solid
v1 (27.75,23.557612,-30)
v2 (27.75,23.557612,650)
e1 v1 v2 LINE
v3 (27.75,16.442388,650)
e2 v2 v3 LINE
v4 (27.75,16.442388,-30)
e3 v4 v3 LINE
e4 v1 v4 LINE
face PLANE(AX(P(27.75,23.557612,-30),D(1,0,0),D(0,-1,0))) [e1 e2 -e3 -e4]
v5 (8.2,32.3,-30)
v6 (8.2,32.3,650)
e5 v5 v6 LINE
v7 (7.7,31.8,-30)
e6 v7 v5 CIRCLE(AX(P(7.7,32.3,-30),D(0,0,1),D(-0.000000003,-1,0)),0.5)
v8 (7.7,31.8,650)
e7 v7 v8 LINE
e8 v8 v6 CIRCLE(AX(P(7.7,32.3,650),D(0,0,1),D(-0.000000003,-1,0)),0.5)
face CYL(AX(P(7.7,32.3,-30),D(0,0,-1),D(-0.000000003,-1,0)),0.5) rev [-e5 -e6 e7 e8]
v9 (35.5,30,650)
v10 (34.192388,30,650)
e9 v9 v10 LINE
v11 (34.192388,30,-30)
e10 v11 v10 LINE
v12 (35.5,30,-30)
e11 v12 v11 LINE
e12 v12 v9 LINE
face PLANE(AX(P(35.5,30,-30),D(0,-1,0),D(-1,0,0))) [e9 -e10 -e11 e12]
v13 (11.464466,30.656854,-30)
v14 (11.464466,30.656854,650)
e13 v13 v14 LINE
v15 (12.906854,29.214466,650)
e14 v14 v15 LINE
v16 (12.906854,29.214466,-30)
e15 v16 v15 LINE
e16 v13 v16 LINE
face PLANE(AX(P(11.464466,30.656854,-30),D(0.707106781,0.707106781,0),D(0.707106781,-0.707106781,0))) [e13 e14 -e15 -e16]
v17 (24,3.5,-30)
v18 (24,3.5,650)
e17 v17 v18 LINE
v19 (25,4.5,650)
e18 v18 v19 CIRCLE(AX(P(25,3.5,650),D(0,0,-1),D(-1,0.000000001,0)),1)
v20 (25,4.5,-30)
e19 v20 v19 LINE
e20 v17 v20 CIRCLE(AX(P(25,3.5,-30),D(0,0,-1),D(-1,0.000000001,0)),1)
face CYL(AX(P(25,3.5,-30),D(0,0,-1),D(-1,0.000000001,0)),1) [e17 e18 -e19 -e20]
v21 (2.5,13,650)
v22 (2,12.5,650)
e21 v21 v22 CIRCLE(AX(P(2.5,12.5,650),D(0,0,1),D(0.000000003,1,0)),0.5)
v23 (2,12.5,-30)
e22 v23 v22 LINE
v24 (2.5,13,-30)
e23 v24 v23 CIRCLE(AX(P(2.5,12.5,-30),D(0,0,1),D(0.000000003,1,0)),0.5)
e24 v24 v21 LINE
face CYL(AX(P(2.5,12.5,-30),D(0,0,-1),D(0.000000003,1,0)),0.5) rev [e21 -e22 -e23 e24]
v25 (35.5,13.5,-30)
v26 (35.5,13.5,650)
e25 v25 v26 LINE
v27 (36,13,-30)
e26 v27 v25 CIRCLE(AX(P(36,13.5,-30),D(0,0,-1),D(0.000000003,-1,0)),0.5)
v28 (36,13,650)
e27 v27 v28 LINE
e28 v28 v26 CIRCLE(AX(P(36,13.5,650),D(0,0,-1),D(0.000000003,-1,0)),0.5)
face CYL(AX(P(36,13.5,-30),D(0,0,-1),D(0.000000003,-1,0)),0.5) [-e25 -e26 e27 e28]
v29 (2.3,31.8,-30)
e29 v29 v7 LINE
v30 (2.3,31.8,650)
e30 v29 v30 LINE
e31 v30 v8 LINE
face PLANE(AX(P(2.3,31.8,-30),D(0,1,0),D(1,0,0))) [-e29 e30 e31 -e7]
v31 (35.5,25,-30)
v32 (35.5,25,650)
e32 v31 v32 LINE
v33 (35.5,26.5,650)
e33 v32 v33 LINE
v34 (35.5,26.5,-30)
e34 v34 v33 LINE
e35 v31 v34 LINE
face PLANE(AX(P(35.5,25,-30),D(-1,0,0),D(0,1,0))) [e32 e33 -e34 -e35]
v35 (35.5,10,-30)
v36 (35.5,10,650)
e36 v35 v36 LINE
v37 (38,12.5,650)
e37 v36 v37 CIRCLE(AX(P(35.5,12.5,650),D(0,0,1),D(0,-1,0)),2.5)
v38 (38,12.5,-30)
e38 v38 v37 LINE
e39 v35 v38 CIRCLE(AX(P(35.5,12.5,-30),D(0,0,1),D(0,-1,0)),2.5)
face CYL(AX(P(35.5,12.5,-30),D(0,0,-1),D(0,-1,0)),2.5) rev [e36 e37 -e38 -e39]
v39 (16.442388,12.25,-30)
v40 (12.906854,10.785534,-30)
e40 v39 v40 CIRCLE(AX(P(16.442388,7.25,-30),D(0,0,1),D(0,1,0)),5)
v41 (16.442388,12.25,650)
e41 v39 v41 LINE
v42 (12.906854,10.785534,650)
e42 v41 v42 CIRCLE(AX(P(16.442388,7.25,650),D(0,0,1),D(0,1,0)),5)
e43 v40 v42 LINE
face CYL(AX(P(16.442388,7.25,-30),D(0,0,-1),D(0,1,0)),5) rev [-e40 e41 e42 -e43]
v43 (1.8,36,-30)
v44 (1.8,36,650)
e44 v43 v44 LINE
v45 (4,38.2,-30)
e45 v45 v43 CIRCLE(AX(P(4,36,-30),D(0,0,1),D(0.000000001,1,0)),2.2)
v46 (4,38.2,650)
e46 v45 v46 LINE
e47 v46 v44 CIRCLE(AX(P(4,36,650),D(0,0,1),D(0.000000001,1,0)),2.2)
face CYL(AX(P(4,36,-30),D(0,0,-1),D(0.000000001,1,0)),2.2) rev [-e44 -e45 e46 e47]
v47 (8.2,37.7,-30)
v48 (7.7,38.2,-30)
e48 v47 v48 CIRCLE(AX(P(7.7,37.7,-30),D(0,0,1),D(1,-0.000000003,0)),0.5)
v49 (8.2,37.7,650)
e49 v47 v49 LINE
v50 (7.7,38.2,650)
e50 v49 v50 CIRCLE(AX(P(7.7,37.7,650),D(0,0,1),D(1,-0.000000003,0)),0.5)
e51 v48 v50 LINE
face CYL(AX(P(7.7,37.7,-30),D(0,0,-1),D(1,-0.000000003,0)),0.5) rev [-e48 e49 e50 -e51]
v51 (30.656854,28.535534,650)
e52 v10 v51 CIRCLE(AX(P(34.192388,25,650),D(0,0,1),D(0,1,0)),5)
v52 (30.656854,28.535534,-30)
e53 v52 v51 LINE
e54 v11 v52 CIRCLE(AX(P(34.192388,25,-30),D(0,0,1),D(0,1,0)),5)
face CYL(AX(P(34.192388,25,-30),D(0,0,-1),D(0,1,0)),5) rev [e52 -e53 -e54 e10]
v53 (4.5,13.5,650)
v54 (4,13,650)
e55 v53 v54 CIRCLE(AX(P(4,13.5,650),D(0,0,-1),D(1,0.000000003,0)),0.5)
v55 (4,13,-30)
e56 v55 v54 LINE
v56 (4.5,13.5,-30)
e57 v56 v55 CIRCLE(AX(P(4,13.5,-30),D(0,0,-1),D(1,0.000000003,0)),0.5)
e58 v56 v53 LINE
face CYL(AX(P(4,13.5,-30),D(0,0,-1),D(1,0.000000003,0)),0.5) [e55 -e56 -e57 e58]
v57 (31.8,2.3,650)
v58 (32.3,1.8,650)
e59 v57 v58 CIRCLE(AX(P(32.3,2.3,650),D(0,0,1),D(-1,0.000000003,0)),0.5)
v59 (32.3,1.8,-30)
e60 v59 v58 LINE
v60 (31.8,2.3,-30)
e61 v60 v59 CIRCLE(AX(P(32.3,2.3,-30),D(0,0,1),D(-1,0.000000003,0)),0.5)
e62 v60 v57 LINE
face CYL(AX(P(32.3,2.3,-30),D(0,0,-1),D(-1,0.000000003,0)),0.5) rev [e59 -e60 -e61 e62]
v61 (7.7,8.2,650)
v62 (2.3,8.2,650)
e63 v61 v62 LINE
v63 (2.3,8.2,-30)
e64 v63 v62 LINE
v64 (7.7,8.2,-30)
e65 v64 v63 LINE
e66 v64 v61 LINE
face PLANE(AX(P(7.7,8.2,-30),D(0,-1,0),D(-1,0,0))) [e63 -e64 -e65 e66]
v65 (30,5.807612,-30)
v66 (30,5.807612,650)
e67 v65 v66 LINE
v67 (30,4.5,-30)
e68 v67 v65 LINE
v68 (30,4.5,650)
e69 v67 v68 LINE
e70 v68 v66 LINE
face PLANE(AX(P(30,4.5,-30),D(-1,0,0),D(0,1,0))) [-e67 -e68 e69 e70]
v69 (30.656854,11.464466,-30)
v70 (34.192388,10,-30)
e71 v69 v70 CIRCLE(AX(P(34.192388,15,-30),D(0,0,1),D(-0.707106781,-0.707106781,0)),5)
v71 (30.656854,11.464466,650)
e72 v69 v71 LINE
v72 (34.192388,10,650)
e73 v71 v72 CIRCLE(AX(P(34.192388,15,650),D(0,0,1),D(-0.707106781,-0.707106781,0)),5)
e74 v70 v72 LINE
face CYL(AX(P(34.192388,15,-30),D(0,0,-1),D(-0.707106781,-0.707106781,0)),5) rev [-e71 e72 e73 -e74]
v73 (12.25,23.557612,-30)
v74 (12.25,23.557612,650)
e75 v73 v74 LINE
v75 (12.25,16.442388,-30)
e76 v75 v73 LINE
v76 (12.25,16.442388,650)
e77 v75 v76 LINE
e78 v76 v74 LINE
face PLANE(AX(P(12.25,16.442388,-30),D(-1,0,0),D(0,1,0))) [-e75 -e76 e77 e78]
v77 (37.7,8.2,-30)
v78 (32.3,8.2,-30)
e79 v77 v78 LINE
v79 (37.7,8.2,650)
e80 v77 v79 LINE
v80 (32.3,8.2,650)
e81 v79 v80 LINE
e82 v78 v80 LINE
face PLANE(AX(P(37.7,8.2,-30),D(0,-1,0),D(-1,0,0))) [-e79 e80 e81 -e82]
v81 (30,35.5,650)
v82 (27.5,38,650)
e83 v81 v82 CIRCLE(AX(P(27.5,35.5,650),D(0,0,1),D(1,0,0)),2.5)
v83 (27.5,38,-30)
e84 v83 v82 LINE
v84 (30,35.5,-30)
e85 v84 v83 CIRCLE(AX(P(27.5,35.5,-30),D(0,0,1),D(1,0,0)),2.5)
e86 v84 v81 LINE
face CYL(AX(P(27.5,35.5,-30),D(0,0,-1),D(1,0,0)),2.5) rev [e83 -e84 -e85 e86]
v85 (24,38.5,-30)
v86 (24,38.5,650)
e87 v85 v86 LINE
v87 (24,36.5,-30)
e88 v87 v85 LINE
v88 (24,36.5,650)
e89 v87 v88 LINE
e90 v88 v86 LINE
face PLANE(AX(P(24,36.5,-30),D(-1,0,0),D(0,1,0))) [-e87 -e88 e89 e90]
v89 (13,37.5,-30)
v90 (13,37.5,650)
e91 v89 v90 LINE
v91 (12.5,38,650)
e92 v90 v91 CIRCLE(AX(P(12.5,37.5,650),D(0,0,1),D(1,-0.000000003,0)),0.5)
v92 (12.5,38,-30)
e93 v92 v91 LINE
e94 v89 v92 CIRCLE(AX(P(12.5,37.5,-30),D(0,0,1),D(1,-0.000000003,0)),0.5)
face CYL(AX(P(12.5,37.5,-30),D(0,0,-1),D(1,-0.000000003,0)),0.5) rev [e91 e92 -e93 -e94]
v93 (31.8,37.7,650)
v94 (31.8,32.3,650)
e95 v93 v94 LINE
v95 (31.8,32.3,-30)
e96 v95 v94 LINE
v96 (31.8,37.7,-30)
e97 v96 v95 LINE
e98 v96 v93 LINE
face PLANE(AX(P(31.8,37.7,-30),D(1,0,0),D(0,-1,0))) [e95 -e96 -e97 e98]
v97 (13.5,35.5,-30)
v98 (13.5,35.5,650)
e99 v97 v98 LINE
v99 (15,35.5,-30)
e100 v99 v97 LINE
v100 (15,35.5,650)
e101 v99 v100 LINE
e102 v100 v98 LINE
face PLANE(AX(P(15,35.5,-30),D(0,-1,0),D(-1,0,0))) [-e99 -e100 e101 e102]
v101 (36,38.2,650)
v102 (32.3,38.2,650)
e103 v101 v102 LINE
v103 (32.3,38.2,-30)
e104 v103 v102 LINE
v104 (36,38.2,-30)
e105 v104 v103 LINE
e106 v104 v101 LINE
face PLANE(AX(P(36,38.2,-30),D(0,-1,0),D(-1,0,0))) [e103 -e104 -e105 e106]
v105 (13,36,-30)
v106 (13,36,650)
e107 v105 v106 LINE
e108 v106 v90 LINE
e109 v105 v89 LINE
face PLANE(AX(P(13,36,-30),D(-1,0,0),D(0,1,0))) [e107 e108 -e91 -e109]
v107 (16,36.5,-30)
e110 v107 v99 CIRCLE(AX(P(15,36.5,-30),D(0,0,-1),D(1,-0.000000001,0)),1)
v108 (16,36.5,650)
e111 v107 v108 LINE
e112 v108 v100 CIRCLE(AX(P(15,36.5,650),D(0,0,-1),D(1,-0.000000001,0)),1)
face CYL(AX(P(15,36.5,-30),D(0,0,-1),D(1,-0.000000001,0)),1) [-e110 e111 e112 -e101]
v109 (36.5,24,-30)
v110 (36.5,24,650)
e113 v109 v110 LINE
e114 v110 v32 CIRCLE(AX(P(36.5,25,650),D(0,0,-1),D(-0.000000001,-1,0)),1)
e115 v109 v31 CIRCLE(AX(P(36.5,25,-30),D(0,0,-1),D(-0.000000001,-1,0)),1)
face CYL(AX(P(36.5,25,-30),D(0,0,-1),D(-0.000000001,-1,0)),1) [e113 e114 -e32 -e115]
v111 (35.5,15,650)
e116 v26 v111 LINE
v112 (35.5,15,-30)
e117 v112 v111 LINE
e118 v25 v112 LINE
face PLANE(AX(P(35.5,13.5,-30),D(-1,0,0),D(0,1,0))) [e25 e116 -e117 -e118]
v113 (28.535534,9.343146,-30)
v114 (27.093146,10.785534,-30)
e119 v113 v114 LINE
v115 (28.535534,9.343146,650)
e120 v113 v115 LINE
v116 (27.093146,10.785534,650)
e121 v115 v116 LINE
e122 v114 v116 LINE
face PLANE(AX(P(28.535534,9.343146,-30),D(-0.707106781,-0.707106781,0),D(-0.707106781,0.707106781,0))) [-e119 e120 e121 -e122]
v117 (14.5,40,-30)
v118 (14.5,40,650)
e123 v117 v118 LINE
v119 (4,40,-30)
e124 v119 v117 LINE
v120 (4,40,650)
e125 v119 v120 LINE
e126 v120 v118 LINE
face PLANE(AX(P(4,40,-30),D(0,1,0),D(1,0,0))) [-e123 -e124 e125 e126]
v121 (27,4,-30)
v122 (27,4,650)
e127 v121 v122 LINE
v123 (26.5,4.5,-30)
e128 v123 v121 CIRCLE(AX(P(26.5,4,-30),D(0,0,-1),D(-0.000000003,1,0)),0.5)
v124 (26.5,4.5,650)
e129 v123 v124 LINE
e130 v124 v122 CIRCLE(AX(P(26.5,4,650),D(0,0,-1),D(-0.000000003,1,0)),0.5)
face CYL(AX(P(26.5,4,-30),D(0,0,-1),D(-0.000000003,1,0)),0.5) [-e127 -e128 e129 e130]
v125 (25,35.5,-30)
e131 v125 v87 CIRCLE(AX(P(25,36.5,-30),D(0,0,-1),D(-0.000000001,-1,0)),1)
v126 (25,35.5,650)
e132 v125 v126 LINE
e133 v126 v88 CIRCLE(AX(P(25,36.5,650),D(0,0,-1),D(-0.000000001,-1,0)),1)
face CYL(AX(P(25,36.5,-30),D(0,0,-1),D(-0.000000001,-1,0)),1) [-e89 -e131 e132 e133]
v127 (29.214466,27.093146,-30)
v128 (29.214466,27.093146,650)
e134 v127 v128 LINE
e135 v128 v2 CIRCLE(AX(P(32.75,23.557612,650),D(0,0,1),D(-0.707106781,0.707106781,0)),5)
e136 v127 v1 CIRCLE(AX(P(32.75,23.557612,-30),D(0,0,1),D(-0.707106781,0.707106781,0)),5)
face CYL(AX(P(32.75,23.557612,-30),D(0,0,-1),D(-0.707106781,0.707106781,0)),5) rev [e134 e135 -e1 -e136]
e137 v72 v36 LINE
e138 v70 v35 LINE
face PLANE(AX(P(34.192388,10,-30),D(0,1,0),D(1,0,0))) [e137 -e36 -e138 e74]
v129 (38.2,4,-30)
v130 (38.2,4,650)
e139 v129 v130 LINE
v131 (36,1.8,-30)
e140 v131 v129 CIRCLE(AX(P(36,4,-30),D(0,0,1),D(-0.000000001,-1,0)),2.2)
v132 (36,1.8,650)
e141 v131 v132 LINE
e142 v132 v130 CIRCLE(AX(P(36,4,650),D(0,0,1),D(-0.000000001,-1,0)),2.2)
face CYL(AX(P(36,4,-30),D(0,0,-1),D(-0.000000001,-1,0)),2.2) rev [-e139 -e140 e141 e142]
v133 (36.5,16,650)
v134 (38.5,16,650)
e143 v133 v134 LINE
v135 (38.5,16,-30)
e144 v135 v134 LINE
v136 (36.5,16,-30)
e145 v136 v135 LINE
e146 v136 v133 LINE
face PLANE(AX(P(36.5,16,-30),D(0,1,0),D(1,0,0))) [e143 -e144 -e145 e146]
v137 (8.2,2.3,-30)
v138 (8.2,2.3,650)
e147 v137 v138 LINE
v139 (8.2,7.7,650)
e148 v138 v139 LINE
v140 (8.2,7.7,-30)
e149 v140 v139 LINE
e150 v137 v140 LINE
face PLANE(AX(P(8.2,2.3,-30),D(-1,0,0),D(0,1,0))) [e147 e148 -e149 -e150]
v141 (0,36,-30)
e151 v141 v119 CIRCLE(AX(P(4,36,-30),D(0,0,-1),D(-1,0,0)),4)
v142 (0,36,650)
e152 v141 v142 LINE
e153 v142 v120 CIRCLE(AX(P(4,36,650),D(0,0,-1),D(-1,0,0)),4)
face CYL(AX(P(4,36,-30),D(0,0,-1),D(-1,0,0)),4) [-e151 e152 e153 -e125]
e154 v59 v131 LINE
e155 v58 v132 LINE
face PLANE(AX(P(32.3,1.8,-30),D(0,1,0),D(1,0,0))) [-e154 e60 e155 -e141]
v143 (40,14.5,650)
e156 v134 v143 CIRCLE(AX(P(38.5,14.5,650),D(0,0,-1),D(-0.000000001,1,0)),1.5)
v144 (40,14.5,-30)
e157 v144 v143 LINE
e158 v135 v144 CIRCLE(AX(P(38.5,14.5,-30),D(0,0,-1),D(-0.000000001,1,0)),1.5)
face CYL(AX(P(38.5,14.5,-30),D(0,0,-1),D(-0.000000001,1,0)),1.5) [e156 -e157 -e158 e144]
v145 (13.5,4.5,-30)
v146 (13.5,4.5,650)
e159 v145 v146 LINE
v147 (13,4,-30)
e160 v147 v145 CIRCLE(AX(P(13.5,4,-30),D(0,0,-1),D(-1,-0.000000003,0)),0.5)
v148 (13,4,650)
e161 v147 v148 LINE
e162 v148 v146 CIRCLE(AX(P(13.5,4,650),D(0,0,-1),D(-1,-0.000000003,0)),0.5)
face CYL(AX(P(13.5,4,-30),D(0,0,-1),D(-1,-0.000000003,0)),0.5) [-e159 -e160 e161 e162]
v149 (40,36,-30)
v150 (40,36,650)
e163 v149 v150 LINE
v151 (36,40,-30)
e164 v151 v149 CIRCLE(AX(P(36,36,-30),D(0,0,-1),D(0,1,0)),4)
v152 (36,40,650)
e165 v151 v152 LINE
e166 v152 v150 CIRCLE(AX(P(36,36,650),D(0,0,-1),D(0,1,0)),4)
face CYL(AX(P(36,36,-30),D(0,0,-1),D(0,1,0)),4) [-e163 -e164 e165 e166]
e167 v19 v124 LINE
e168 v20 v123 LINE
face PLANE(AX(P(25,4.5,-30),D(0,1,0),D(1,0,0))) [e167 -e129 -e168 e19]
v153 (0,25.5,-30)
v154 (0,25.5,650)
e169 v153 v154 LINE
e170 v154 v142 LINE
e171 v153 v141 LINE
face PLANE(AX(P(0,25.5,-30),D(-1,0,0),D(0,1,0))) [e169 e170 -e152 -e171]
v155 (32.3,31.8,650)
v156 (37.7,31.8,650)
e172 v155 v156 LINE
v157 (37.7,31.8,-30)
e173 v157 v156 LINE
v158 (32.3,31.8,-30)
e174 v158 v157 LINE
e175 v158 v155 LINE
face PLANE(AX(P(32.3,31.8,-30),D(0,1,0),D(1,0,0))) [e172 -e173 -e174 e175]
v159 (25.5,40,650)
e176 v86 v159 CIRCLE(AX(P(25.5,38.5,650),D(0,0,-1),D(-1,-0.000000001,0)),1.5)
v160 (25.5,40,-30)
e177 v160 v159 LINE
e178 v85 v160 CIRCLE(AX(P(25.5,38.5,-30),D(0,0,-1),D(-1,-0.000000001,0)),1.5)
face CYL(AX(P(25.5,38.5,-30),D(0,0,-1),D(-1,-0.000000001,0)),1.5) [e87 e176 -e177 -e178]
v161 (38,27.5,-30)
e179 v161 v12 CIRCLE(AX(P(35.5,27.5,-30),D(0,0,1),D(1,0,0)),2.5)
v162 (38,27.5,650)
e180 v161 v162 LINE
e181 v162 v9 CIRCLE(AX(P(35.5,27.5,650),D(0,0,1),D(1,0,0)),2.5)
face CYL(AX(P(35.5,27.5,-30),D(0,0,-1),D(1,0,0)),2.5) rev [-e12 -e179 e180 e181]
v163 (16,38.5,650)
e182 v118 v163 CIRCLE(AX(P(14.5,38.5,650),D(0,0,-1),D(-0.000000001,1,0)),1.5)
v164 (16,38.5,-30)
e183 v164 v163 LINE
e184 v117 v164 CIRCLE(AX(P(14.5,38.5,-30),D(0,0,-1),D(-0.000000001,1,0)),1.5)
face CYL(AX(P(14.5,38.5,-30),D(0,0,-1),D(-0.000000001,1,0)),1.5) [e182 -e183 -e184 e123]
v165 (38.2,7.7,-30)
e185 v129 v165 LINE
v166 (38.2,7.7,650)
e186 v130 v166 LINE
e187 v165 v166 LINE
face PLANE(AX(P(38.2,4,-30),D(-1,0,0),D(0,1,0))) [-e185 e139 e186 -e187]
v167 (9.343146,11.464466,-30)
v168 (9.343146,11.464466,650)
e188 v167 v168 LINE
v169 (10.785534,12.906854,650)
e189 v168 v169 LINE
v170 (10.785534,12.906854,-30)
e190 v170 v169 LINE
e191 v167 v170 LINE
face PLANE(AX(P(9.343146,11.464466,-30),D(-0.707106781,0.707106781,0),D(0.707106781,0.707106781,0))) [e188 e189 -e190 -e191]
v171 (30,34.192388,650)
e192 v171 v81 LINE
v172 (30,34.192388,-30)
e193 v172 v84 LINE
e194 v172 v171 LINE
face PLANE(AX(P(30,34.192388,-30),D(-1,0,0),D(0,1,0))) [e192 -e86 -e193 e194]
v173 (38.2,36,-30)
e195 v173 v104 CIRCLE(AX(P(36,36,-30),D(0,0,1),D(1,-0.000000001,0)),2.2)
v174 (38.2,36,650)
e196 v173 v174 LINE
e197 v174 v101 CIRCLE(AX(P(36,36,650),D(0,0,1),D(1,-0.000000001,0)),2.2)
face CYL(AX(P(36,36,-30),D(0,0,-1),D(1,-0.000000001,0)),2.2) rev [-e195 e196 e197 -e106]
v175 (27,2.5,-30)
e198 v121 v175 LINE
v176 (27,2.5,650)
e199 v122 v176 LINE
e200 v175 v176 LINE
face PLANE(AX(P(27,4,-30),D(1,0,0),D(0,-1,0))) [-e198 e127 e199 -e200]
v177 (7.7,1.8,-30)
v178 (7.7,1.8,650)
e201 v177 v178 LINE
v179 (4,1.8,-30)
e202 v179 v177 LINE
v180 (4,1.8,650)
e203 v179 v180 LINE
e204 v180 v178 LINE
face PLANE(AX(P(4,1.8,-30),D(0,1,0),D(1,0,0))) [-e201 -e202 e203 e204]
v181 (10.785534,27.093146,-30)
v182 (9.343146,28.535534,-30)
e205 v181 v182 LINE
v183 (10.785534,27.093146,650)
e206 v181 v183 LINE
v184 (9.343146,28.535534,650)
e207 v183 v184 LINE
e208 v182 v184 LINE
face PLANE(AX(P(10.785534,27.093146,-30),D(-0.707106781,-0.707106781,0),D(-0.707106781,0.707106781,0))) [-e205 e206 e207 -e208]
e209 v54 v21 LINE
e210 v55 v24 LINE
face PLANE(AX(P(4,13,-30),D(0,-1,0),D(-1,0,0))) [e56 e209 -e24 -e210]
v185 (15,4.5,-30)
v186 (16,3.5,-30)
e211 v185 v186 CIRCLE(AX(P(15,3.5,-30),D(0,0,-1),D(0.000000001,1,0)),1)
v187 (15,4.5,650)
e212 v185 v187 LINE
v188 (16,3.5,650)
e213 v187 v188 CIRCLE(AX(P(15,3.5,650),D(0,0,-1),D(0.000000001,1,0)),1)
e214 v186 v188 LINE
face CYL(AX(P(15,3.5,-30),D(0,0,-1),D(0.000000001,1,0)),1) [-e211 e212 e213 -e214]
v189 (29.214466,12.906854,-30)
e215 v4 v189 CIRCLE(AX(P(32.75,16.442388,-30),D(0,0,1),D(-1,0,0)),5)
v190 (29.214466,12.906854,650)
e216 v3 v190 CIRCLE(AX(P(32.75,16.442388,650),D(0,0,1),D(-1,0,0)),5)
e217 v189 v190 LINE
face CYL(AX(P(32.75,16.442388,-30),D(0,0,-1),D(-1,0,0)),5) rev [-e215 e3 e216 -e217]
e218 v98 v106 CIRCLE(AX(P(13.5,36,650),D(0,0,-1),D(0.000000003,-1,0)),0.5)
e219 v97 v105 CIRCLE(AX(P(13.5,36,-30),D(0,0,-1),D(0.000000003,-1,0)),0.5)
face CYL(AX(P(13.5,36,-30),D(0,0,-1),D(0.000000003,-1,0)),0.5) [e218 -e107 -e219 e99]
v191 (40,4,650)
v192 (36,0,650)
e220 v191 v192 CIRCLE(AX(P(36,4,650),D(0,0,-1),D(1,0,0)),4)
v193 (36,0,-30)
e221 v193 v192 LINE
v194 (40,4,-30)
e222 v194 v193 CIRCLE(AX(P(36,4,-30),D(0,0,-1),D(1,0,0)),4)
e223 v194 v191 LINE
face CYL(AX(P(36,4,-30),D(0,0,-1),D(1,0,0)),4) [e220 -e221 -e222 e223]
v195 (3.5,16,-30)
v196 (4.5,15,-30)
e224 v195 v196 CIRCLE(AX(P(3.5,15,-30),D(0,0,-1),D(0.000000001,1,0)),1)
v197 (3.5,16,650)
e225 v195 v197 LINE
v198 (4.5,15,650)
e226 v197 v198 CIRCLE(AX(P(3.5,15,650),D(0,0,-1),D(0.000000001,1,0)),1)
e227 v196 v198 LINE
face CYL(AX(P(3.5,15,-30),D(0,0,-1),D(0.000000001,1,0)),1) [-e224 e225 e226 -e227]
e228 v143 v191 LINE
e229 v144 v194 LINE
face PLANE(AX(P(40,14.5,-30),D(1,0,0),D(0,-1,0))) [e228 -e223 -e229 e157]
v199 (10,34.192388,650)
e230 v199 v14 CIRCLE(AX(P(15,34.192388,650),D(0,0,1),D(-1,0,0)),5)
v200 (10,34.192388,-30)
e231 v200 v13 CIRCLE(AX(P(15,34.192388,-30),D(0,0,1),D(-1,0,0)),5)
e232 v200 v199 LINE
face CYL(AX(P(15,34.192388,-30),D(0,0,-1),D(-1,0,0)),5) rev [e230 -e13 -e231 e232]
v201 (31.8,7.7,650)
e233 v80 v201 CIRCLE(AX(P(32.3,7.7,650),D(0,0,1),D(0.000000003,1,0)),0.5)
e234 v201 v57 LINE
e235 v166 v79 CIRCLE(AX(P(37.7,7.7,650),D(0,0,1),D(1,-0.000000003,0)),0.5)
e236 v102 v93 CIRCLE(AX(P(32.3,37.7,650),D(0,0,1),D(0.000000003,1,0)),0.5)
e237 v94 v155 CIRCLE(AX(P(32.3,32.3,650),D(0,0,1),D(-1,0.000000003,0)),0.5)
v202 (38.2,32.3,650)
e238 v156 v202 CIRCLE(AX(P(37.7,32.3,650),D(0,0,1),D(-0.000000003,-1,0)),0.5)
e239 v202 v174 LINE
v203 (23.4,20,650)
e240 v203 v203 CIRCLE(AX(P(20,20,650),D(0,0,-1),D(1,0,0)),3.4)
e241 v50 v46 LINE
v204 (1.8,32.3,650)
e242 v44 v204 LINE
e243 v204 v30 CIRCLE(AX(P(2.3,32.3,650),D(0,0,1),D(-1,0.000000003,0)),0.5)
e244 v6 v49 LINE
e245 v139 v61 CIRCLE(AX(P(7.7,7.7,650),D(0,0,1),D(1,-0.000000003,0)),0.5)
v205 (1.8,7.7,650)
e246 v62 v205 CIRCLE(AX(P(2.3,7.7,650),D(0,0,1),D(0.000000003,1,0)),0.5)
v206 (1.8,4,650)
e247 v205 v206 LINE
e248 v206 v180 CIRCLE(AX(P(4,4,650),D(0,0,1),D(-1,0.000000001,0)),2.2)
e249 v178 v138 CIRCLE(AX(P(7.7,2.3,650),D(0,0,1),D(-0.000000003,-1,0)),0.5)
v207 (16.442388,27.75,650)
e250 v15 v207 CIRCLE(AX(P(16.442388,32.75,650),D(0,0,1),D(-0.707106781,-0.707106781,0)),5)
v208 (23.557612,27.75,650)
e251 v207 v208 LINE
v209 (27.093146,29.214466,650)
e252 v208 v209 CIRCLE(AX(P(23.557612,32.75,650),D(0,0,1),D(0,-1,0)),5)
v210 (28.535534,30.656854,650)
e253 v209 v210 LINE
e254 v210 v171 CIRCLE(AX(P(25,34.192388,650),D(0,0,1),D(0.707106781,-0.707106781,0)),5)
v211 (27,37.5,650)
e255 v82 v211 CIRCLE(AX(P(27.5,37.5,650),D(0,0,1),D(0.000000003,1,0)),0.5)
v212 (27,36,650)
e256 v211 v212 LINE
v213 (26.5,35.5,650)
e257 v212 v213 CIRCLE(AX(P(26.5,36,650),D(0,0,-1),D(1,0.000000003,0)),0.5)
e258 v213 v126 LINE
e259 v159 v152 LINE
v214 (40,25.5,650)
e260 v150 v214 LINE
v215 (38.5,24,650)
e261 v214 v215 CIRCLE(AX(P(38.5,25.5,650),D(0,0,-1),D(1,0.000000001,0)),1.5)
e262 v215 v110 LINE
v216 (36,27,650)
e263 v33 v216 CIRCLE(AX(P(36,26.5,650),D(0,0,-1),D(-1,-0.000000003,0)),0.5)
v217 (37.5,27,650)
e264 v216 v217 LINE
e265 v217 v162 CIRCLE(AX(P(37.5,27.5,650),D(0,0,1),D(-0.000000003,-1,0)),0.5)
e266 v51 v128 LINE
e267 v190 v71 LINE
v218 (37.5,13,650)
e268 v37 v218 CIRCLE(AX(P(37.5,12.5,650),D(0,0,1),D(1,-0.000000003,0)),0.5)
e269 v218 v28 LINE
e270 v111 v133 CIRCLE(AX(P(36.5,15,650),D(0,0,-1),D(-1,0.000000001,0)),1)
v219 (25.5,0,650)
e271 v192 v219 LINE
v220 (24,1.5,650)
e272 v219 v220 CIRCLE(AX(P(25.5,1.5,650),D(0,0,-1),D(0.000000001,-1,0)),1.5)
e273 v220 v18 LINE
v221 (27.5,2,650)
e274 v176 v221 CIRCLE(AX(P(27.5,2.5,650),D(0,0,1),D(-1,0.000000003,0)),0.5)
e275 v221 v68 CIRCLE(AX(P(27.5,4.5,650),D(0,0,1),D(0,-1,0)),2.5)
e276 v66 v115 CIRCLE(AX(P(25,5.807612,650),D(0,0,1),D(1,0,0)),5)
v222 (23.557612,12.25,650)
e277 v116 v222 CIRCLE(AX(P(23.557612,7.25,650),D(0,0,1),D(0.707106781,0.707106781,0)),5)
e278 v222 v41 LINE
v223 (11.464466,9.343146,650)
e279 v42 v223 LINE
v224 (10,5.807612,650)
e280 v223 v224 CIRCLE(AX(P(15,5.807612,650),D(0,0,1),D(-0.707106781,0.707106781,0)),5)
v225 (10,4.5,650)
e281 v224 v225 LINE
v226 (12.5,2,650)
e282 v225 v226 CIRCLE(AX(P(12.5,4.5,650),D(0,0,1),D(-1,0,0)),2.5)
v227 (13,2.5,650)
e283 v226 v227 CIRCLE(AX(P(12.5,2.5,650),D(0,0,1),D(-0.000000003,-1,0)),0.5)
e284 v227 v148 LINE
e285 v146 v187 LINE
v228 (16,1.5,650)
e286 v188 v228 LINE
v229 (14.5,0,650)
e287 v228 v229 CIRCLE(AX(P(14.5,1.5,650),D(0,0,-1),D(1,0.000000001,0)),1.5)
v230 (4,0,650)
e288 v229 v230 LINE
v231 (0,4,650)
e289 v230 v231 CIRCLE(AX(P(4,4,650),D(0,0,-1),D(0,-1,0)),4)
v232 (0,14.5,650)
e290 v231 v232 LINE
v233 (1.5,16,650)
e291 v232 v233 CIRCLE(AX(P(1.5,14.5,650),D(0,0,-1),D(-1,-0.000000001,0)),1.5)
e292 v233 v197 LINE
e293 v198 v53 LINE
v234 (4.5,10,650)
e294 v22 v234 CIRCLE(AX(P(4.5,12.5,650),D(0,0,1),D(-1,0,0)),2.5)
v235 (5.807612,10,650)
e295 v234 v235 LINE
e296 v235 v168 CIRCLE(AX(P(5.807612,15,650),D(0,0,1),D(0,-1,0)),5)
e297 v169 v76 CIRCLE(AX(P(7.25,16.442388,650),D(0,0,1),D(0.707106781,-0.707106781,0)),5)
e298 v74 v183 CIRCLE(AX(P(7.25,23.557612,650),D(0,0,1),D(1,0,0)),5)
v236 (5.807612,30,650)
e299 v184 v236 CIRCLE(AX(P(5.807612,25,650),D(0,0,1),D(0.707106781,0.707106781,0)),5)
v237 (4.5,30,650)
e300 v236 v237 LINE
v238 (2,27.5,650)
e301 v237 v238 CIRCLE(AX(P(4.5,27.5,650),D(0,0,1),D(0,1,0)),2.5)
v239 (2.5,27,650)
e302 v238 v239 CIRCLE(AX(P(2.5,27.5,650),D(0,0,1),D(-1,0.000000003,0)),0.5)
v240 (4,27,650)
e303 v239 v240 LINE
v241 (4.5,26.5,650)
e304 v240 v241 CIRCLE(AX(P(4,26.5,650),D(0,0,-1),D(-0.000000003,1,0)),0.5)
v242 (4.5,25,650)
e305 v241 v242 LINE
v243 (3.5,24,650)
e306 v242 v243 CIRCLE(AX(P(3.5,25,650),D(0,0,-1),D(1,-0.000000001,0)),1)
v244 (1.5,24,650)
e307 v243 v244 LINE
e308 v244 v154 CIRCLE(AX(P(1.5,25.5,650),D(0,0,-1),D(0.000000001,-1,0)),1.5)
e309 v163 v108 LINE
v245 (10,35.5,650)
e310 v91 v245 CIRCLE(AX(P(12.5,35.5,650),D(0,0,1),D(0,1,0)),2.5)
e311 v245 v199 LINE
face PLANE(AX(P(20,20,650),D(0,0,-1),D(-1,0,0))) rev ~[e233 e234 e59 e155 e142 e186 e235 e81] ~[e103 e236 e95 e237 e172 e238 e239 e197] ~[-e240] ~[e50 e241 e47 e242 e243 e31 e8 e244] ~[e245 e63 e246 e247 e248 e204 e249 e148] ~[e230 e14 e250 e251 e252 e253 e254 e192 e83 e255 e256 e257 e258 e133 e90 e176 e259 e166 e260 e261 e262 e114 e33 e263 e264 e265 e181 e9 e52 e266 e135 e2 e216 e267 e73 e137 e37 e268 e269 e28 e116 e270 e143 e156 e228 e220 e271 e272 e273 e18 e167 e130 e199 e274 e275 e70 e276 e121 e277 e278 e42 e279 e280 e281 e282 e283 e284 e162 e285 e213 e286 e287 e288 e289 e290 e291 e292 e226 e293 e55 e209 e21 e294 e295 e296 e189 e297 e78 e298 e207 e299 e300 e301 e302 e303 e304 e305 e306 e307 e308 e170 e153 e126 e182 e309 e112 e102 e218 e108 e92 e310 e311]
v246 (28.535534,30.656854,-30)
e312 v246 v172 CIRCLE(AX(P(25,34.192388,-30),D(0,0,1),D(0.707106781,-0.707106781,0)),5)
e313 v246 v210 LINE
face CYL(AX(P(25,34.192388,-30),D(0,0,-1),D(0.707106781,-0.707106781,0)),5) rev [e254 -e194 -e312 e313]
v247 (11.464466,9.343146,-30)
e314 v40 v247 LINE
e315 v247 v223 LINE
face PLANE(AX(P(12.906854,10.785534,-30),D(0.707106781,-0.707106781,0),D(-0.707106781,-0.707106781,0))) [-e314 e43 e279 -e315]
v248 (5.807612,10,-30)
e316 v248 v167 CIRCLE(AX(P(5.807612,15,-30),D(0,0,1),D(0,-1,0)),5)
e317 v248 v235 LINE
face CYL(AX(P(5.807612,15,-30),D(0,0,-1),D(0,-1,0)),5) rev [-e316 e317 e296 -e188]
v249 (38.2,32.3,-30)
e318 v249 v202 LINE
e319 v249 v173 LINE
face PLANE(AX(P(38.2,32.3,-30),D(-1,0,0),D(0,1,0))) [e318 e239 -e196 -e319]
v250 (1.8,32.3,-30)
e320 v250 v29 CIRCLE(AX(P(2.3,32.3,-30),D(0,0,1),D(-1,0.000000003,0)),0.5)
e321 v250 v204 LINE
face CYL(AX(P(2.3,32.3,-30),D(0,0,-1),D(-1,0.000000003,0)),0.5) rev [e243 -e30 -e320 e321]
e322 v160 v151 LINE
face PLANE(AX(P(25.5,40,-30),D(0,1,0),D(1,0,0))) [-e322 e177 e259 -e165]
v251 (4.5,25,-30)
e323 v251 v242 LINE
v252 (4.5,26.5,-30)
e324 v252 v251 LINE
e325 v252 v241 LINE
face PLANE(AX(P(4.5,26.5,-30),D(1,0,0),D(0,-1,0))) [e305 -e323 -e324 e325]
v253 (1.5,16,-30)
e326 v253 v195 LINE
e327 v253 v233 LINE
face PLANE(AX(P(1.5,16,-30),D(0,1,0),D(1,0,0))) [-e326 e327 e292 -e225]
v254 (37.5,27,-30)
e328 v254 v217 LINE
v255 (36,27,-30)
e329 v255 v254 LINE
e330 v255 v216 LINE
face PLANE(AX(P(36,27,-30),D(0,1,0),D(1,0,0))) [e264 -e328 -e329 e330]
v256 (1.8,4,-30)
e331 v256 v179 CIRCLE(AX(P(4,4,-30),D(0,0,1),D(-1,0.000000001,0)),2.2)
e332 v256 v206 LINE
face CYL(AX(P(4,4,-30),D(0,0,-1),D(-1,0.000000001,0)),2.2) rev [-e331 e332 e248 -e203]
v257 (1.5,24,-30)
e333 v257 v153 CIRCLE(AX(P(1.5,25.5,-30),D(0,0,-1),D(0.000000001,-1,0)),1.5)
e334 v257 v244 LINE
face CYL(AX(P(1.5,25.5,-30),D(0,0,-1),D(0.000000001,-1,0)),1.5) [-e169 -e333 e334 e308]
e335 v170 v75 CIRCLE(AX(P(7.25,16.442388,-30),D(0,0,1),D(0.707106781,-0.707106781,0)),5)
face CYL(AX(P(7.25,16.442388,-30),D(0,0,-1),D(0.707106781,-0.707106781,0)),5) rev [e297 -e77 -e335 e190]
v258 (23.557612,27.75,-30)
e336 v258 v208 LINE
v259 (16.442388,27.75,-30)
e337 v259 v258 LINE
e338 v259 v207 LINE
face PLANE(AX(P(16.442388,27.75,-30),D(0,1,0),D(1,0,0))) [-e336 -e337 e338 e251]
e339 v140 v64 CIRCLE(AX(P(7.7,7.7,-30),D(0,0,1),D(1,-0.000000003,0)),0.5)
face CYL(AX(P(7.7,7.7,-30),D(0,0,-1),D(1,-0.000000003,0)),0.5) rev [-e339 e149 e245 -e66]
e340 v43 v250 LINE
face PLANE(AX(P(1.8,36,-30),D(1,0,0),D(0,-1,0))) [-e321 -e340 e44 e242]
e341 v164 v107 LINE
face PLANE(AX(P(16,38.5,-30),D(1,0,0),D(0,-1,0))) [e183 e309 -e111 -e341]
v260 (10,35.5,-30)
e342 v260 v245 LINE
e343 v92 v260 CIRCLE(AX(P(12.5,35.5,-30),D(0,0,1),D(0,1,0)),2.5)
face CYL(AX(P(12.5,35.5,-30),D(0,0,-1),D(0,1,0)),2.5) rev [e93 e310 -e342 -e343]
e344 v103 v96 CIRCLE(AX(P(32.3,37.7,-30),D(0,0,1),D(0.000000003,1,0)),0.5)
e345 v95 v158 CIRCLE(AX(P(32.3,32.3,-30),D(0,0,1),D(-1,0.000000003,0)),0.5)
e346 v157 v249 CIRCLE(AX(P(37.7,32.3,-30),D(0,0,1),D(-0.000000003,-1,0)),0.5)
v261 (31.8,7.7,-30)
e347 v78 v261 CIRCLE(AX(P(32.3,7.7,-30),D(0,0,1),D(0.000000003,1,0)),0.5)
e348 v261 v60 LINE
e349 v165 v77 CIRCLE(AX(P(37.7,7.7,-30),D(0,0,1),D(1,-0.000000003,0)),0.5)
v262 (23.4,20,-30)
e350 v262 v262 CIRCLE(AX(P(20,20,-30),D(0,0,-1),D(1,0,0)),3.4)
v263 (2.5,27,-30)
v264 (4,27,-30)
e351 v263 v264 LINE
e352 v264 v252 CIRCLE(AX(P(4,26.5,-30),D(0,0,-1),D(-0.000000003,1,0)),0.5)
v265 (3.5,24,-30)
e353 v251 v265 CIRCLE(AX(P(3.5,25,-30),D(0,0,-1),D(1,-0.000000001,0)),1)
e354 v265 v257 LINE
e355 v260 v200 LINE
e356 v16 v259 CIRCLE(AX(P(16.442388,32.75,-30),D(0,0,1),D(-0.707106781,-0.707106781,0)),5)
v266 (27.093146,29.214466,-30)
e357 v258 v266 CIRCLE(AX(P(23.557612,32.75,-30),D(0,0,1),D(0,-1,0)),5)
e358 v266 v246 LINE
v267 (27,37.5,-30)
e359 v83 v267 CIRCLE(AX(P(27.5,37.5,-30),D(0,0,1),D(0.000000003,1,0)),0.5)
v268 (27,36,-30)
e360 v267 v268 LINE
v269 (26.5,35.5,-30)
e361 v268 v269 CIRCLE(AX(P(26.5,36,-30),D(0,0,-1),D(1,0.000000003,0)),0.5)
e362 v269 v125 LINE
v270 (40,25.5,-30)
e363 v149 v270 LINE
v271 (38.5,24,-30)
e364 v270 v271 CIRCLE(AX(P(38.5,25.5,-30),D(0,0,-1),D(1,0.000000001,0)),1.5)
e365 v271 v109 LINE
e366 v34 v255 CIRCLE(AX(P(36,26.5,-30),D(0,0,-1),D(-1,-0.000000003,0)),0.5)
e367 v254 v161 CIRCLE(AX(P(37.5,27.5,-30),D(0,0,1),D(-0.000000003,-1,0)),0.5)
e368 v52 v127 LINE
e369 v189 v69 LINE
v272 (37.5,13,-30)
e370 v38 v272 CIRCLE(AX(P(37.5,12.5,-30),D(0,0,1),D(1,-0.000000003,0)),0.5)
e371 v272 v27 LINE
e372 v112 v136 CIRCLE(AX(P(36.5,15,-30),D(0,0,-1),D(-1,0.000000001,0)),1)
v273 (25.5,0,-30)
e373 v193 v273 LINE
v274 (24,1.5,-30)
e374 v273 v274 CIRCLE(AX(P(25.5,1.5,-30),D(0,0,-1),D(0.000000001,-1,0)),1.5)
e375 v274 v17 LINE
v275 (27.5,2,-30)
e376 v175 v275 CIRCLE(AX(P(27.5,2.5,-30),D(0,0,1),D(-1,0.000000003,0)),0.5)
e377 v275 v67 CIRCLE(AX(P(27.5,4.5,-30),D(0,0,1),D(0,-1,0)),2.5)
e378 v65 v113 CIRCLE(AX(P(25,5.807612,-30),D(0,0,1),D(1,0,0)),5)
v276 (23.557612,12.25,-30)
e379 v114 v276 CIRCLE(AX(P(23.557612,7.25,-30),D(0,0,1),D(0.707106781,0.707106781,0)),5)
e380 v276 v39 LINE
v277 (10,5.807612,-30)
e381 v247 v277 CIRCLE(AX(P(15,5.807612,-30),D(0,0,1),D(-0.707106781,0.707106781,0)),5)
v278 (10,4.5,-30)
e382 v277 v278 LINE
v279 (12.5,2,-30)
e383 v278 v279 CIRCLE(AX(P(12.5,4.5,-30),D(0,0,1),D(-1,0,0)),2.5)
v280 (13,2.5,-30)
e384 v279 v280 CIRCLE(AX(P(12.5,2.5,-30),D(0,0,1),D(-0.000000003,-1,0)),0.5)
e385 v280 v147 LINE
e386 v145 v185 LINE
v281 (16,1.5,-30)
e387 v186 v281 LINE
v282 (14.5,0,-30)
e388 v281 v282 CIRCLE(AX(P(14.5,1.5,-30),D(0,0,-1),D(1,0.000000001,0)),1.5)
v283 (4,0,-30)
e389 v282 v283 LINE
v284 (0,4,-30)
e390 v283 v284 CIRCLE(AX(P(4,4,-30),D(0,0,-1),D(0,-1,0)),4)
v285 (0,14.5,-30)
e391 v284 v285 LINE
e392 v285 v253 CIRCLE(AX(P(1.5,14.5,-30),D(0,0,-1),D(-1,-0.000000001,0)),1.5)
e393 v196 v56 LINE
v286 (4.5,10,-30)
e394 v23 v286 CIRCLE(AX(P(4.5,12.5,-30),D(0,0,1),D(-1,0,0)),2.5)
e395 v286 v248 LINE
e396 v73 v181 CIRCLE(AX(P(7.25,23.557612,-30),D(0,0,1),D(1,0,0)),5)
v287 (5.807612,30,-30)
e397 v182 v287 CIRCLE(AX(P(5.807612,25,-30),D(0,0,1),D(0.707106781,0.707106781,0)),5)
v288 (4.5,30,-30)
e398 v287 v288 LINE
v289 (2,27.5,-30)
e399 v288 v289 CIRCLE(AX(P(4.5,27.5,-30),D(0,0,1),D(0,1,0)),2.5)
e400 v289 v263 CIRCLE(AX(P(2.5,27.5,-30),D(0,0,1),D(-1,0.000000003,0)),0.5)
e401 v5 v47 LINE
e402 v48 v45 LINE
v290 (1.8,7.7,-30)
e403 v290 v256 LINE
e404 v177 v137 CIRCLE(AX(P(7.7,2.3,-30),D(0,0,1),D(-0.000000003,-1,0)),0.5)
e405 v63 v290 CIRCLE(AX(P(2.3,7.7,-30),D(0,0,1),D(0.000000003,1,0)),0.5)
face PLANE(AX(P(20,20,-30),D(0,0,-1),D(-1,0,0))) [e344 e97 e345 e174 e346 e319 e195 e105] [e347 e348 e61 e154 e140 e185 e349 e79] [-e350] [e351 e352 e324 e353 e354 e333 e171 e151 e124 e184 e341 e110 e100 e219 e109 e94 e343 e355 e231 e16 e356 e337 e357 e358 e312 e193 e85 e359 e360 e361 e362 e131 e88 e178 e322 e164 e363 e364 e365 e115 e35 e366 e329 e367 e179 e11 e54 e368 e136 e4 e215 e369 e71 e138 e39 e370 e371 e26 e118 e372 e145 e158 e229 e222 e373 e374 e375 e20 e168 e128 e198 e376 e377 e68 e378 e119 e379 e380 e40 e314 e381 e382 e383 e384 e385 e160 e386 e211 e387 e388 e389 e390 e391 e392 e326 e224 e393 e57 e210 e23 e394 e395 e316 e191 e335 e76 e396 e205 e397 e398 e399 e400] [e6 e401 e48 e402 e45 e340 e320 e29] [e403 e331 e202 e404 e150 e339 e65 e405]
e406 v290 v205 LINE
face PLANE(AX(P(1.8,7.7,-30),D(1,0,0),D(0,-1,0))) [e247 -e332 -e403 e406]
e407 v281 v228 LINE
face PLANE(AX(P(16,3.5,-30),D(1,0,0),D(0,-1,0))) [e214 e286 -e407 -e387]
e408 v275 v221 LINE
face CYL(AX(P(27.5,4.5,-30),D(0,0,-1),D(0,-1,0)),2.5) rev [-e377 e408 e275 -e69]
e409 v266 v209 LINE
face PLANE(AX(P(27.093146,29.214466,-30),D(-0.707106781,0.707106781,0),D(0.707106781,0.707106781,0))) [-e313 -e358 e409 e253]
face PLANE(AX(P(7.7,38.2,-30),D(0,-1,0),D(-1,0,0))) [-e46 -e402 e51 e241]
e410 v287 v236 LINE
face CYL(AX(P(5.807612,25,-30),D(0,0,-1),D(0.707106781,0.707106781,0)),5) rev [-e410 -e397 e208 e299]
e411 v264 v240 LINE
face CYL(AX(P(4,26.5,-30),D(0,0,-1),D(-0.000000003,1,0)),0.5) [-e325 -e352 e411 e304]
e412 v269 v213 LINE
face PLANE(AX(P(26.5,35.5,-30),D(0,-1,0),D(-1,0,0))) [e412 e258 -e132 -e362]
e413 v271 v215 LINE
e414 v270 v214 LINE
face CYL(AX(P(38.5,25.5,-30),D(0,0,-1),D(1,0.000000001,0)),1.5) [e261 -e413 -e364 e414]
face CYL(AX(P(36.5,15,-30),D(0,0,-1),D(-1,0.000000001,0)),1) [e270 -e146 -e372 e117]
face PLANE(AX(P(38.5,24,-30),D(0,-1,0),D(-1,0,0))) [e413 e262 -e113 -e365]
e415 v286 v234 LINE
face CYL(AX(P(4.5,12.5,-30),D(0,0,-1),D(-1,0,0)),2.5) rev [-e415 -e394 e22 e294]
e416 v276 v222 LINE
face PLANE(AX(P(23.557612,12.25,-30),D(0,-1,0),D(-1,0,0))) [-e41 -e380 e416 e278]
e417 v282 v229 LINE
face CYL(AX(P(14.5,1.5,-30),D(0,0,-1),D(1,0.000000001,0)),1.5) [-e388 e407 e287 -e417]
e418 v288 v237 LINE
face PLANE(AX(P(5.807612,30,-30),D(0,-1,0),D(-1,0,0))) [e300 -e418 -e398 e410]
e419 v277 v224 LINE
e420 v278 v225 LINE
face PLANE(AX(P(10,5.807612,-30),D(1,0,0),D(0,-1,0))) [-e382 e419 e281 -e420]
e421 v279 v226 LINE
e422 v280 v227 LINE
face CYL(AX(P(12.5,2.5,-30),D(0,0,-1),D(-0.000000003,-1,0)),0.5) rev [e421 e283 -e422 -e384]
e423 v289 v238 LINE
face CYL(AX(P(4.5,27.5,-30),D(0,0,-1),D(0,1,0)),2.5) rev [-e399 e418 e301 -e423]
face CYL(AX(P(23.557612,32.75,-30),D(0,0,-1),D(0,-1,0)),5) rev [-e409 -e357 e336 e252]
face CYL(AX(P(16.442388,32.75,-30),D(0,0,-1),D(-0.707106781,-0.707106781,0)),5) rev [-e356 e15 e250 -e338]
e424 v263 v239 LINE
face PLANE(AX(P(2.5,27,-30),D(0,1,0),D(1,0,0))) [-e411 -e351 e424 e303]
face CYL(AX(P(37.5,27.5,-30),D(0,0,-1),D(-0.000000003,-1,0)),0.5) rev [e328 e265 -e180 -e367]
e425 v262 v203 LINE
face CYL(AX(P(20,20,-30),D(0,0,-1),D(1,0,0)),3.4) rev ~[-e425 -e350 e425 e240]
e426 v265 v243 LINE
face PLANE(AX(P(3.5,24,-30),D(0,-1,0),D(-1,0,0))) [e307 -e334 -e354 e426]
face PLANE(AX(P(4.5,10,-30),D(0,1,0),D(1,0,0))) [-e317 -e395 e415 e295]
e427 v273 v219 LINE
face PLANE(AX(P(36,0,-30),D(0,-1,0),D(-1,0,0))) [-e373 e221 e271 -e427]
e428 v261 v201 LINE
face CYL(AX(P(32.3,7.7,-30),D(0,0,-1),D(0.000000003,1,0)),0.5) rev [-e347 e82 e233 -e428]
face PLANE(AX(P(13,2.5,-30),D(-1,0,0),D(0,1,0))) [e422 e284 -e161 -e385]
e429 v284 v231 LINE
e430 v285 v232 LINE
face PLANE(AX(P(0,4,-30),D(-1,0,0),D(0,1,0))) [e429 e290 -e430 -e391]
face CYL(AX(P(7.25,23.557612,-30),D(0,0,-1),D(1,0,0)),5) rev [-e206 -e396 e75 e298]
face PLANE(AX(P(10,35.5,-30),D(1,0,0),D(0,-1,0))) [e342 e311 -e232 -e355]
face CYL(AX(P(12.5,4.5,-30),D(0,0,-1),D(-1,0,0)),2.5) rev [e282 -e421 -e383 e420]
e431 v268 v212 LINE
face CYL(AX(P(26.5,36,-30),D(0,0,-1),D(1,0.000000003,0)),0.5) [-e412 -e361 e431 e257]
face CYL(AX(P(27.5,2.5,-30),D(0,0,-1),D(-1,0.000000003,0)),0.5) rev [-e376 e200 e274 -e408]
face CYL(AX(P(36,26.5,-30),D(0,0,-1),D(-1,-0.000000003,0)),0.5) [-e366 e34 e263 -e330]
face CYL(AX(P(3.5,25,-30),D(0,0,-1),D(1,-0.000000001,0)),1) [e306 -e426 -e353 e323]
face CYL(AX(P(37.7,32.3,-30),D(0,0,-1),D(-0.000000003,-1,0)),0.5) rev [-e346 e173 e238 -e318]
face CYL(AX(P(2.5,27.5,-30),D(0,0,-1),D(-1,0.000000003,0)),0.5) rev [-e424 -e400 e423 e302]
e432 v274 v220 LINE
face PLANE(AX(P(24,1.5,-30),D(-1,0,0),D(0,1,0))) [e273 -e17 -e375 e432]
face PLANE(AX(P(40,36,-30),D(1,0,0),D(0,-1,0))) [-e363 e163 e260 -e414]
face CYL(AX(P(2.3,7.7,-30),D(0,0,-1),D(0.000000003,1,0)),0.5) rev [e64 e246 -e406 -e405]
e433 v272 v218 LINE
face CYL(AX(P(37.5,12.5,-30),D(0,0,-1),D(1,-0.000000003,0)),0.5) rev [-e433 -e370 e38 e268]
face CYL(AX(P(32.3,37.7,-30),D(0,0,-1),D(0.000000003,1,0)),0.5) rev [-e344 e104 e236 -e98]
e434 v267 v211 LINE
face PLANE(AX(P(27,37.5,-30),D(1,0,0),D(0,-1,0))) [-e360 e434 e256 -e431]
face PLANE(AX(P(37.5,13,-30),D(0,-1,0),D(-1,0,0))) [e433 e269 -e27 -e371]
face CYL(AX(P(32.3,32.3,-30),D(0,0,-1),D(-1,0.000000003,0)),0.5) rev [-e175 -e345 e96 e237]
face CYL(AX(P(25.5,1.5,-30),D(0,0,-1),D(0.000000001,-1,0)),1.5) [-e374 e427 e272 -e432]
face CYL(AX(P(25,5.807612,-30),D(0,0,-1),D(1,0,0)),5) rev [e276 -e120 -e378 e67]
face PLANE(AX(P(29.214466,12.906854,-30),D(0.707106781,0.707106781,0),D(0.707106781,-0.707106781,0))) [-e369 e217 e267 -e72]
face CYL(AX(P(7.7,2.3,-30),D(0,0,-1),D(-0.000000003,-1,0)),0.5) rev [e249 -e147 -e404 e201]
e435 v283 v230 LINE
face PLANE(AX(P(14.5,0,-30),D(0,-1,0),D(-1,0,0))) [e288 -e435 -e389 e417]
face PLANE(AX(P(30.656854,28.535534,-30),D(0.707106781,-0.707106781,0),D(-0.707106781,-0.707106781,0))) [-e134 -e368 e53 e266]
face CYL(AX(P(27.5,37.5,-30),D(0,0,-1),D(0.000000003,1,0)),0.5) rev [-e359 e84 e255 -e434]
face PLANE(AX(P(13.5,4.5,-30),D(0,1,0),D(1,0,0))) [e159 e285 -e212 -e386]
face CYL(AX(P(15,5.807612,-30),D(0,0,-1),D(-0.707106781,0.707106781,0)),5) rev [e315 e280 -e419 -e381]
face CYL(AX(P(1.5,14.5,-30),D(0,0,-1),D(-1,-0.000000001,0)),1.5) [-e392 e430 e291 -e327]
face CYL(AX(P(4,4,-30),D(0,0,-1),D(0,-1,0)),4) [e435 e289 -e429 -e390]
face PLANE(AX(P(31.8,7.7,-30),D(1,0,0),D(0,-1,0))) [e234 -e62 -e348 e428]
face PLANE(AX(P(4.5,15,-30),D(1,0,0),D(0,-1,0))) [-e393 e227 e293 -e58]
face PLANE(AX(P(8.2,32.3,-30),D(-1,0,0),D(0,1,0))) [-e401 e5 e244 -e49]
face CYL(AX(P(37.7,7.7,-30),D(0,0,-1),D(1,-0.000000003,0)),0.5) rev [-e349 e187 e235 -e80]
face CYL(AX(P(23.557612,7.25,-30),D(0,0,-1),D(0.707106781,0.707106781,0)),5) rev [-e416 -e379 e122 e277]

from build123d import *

# Parameters (mm, degrees)
ESQUISSE1_R        = 3.4
BOSS_EXTRU_1_DEPTH = 680


with BuildPart() as part:
    # Esquisse1 → Boss.-Extru.1 (new body)
    with BuildSketch(Plane(origin=(0, 0, -30), x_dir=(-1, 0, 0), z_dir=(0, 0, -1))):
        with BuildLine():
            Line((-4.5, 15), (-4.5, 13.5))
            ThreePointArc((-4.5, 13.5), (-4.353553391, 13.146446609), (-4, 13))
            Line((-4, 13), (-2.5, 13))
            ThreePointArc((-2.5, 13), (-2.146446609, 12.853553391), (-2, 12.5))
            ThreePointArc((-2, 12.5), (-2.732233047, 10.732233047), (-4.5, 10))
            Line((-4.5, 10), (-5.807611845, 10))
            ThreePointArc((-5.807611845, 10), (-7.721029006, 10.380602337), (-9.343145751, 11.464466094))
            Line((-9.343145751, 11.464466094), (-10.785533906, 12.906854249))
            ThreePointArc((-10.785533906, 12.906854249), (-11.869397663, 14.528970994), (-12.25, 16.442388155))
            Line((-12.25, 16.442388155), (-12.25, 23.557611845))
            ThreePointArc((-12.25, 23.557611845), (-11.869397663, 25.471029006), (-10.785533906, 27.093145751))
            Line((-10.785533906, 27.093145751), (-9.343145751, 28.535533906))
            ThreePointArc((-9.343145751, 28.535533906), (-7.721029006, 29.619397663), (-5.807611845, 30))
            Line((-5.807611845, 30), (-4.5, 30))
            ThreePointArc((-4.5, 30), (-2.732233047, 29.267766953), (-2, 27.5))
            ThreePointArc((-2, 27.5), (-2.146446609, 27.146446609), (-2.5, 27))
            Line((-2.5, 27), (-4, 27))
            ThreePointArc((-4, 27), (-4.353553391, 26.853553391), (-4.5, 26.5))
            Line((-4.5, 26.5), (-4.5, 25))
            ThreePointArc((-4.5, 25), (-4.207106781, 24.292893219), (-3.5, 24))
            Line((-3.5, 24), (-1.5, 24))
            ThreePointArc((-1.5, 24), (-0.439339828, 24.439339828), (0, 25.5))
            Line((0, 25.5), (0, 36))
            ThreePointArc((0, 36), (-1.171572875, 38.828427125), (-4, 40))
            Line((-4, 40), (-14.5, 40))
            ThreePointArc((-14.5, 40), (-15.560660172, 39.560660172), (-16, 38.5))
            Line((-16, 38.5), (-16, 36.5))
            ThreePointArc((-16, 36.5), (-15.707106781, 35.792893219), (-15, 35.5))
            Line((-15, 35.5), (-13.5, 35.5))
            ThreePointArc((-13.5, 35.5), (-13.146446609, 35.646446609), (-13, 36))
            Line((-13, 36), (-13, 37.5))
            ThreePointArc((-13, 37.5), (-12.853553391, 37.853553391), (-12.5, 38))
            ThreePointArc((-12.5, 38), (-10.732233047, 37.267766953), (-10, 35.5))
            Line((-10, 35.5), (-10, 34.192388155))
            ThreePointArc((-10, 34.192388155), (-10.380602337, 32.278970994), (-11.464466094, 30.656854249))
            Line((-11.464466094, 30.656854249), (-12.906854249, 29.214466094))
            ThreePointArc((-12.906854249, 29.214466094), (-14.528970994, 28.130602337), (-16.442388155, 27.75))
            Line((-16.442388155, 27.75), (-23.557611845, 27.75))
            ThreePointArc((-23.557611845, 27.75), (-25.471029006, 28.130602337), (-27.093145751, 29.214466094))
            Line((-27.093145751, 29.214466094), (-28.535533906, 30.656854249))
            ThreePointArc((-28.535533906, 30.656854249), (-29.619397663, 32.278970994), (-30, 34.192388155))
            Line((-30, 34.192388155), (-30, 35.5))
            ThreePointArc((-30, 35.5), (-29.267766953, 37.267766953), (-27.5, 38))
            ThreePointArc((-27.5, 38), (-27.146446609, 37.853553391), (-27, 37.5))
            Line((-27, 37.5), (-27, 36))
            ThreePointArc((-27, 36), (-26.853553391, 35.646446609), (-26.5, 35.5))
            Line((-26.5, 35.5), (-25, 35.5))
            ThreePointArc((-25, 35.5), (-24.292893219, 35.792893219), (-24, 36.5))
            Line((-24, 36.5), (-24, 38.5))
            ThreePointArc((-24, 38.5), (-24.439339828, 39.560660172), (-25.5, 40))
            Line((-25.5, 40), (-36, 40))
            ThreePointArc((-36, 40), (-38.828427125, 38.828427125), (-40, 36))
            Line((-40, 36), (-40, 25.5))
            ThreePointArc((-40, 25.5), (-39.560660172, 24.439339828), (-38.5, 24))
            Line((-38.5, 24), (-36.5, 24))
            ThreePointArc((-36.5, 24), (-35.792893219, 24.292893219), (-35.5, 25))
            Line((-35.5, 25), (-35.5, 26.5))
            ThreePointArc((-35.5, 26.5), (-35.646446609, 26.853553391), (-36, 27))
            Line((-36, 27), (-37.5, 27))
            ThreePointArc((-37.5, 27), (-37.853553391, 27.146446609), (-38, 27.5))
            ThreePointArc((-38, 27.5), (-37.267766953, 29.267766953), (-35.5, 30))
            Line((-35.5, 30), (-34.192388155, 30))
            ThreePointArc((-34.192388155, 30), (-32.278970994, 29.619397663), (-30.656854249, 28.535533906))
            Line((-30.656854249, 28.535533906), (-29.214466094, 27.093145751))
            ThreePointArc((-29.214466094, 27.093145751), (-28.130602337, 25.471029006), (-27.75, 23.557611845))
            Line((-27.75, 23.557611845), (-27.75, 16.442388155))
            ThreePointArc((-27.75, 16.442388155), (-28.130602337, 14.528970994), (-29.214466094, 12.906854249))
            Line((-29.214466094, 12.906854249), (-30.656854249, 11.464466094))
            ThreePointArc((-30.656854249, 11.464466094), (-32.278970994, 10.380602337), (-34.192388155, 10))
            Line((-34.192388155, 10), (-35.5, 10))
            ThreePointArc((-35.5, 10), (-37.267766953, 10.732233047), (-38, 12.5))
            ThreePointArc((-38, 12.5), (-37.853553391, 12.853553391), (-37.5, 13))
            Line((-37.5, 13), (-36, 13))
            ThreePointArc((-36, 13), (-35.646446609, 13.146446609), (-35.5, 13.5))
            Line((-35.5, 13.5), (-35.5, 15))
            ThreePointArc((-35.5, 15), (-35.792893219, 15.707106781), (-36.5, 16))
            Line((-36.5, 16), (-38.5, 16))
            ThreePointArc((-38.5, 16), (-39.560660172, 15.560660172), (-40, 14.5))
            Line((-40, 14.5), (-40, 4))
            ThreePointArc((-40, 4), (-38.828427125, 1.171572875), (-36, 0))
            Line((-36, 0), (-25.5, 0))
            ThreePointArc((-25.5, 0), (-24.439339828, 0.439339828), (-24, 1.5))
            Line((-24, 1.5), (-24, 3.5))
            ThreePointArc((-24, 3.5), (-24.292893219, 4.207106781), (-25, 4.5))
            Line((-25, 4.5), (-26.5, 4.5))
            ThreePointArc((-26.5, 4.5), (-26.853553391, 4.353553391), (-27, 4))
            Line((-27, 4), (-27, 2.5))
            ThreePointArc((-27, 2.5), (-27.146446609, 2.146446609), (-27.5, 2))
            ThreePointArc((-27.5, 2), (-29.267766953, 2.732233047), (-30, 4.5))
            Line((-30, 4.5), (-30, 5.807611845))
            ThreePointArc((-30, 5.807611845), (-29.619397663, 7.721029006), (-28.535533906, 9.343145751))
            Line((-28.535533906, 9.343145751), (-27.093145751, 10.785533906))
            ThreePointArc((-27.093145751, 10.785533906), (-25.471029006, 11.869397663), (-23.557611845, 12.25))
            Line((-23.557611845, 12.25), (-16.442388155, 12.25))
            ThreePointArc((-16.442388155, 12.25), (-14.528970994, 11.869397663), (-12.906854249, 10.785533906))
            Line((-12.906854249, 10.785533906), (-11.464466094, 9.343145751))
            ThreePointArc((-11.464466094, 9.343145751), (-10.380602337, 7.721029006), (-10, 5.807611845))
            Line((-10, 5.807611845), (-10, 4.5))
            ThreePointArc((-10, 4.5), (-10.732233047, 2.732233047), (-12.5, 2))
            ThreePointArc((-12.5, 2), (-12.853553391, 2.146446609), (-13, 2.5))
            Line((-13, 2.5), (-13, 4))
            ThreePointArc((-13, 4), (-13.146446609, 4.353553391), (-13.5, 4.5))
            Line((-13.5, 4.5), (-15, 4.5))
            ThreePointArc((-15, 4.5), (-15.707106781, 4.207106781), (-16, 3.5))
            Line((-16, 3.5), (-16, 1.5))
            ThreePointArc((-16, 1.5), (-15.560660172, 0.439339828), (-14.5, 0))
            Line((-14.5, 0), (-4, 0))
            ThreePointArc((-4, 0), (-1.171572875, 1.171572875), (0, 4))
            Line((0, 4), (0, 14.5))
            ThreePointArc((0, 14.5), (-0.439339828, 15.560660172), (-1.5, 16))
            Line((-1.5, 16), (-3.5, 16))
            ThreePointArc((-3.5, 16), (-4.207106781, 15.707106781), (-4.5, 15))
        make_face()
        with Locations(Location((-20, 20, 0), (0, 0, 180))):
            Circle(ESQUISSE1_R, mode=Mode.SUBTRACT)
        with BuildLine():
            Line((-4, 1.8), (-7.7, 1.8))
            ThreePointArc((-7.7, 1.8), (-8.053553391, 1.946446609), (-8.2, 2.3))
            Line((-8.2, 2.3), (-8.2, 7.7))
            ThreePointArc((-8.2, 7.7), (-8.053553391, 8.053553391), (-7.7, 8.2))
            Line((-7.7, 8.2), (-2.3, 8.2))
            ThreePointArc((-2.3, 8.2), (-1.946446609, 8.053553391), (-1.8, 7.7))
            Line((-1.8, 7.7), (-1.8, 4))
            ThreePointArc((-1.8, 4), (-2.444365081, 2.444365081), (-4, 1.8))
        make_face(mode=Mode.SUBTRACT)
        with BuildLine():
            Line((-38.2, 4), (-38.2, 7.7))
            ThreePointArc((-38.2, 7.7), (-38.053553391, 8.053553391), (-37.7, 8.2))
            Line((-37.7, 8.2), (-32.3, 8.2))
            ThreePointArc((-32.3, 8.2), (-31.946446609, 8.053553391), (-31.8, 7.7))
            Line((-31.8, 7.7), (-31.8, 2.3))
            ThreePointArc((-31.8, 2.3), (-31.946446609, 1.946446609), (-32.3, 1.8))
            Line((-32.3, 1.8), (-36, 1.8))
            ThreePointArc((-36, 1.8), (-37.555634919, 2.444365081), (-38.2, 4))
        make_face(mode=Mode.SUBTRACT)
        with BuildLine():
            Line((-36, 38.2), (-32.3, 38.2))
            ThreePointArc((-32.3, 38.2), (-31.946446609, 38.053553391), (-31.8, 37.7))
            Line((-31.8, 37.7), (-31.8, 32.3))
            ThreePointArc((-31.8, 32.3), (-31.946446609, 31.946446609), (-32.3, 31.8))
            Line((-32.3, 31.8), (-37.7, 31.8))
            ThreePointArc((-37.7, 31.8), (-38.053553391, 31.946446609), (-38.2, 32.3))
            Line((-38.2, 32.3), (-38.2, 36))
            ThreePointArc((-38.2, 36), (-37.555634919, 37.555634919), (-36, 38.2))
        make_face(mode=Mode.SUBTRACT)
        with BuildLine():
            Line((-1.8, 36), (-1.8, 32.3))
            ThreePointArc((-1.8, 32.3), (-1.946446609, 31.946446609), (-2.3, 31.8))
            Line((-2.3, 31.8), (-7.7, 31.8))
            ThreePointArc((-7.7, 31.8), (-8.053553391, 31.946446609), (-8.2, 32.3))
            Line((-8.2, 32.3), (-8.2, 37.7))
            ThreePointArc((-8.2, 37.7), (-8.053553391, 38.053553391), (-7.7, 38.2))
            Line((-7.7, 38.2), (-4, 38.2))
            ThreePointArc((-4, 38.2), (-2.444365081, 37.555634919), (-1.8, 36))
        make_face(mode=Mode.SUBTRACT)
    extrude(amount=-BOSS_EXTRU_1_DEPTH)


solid = part.part
